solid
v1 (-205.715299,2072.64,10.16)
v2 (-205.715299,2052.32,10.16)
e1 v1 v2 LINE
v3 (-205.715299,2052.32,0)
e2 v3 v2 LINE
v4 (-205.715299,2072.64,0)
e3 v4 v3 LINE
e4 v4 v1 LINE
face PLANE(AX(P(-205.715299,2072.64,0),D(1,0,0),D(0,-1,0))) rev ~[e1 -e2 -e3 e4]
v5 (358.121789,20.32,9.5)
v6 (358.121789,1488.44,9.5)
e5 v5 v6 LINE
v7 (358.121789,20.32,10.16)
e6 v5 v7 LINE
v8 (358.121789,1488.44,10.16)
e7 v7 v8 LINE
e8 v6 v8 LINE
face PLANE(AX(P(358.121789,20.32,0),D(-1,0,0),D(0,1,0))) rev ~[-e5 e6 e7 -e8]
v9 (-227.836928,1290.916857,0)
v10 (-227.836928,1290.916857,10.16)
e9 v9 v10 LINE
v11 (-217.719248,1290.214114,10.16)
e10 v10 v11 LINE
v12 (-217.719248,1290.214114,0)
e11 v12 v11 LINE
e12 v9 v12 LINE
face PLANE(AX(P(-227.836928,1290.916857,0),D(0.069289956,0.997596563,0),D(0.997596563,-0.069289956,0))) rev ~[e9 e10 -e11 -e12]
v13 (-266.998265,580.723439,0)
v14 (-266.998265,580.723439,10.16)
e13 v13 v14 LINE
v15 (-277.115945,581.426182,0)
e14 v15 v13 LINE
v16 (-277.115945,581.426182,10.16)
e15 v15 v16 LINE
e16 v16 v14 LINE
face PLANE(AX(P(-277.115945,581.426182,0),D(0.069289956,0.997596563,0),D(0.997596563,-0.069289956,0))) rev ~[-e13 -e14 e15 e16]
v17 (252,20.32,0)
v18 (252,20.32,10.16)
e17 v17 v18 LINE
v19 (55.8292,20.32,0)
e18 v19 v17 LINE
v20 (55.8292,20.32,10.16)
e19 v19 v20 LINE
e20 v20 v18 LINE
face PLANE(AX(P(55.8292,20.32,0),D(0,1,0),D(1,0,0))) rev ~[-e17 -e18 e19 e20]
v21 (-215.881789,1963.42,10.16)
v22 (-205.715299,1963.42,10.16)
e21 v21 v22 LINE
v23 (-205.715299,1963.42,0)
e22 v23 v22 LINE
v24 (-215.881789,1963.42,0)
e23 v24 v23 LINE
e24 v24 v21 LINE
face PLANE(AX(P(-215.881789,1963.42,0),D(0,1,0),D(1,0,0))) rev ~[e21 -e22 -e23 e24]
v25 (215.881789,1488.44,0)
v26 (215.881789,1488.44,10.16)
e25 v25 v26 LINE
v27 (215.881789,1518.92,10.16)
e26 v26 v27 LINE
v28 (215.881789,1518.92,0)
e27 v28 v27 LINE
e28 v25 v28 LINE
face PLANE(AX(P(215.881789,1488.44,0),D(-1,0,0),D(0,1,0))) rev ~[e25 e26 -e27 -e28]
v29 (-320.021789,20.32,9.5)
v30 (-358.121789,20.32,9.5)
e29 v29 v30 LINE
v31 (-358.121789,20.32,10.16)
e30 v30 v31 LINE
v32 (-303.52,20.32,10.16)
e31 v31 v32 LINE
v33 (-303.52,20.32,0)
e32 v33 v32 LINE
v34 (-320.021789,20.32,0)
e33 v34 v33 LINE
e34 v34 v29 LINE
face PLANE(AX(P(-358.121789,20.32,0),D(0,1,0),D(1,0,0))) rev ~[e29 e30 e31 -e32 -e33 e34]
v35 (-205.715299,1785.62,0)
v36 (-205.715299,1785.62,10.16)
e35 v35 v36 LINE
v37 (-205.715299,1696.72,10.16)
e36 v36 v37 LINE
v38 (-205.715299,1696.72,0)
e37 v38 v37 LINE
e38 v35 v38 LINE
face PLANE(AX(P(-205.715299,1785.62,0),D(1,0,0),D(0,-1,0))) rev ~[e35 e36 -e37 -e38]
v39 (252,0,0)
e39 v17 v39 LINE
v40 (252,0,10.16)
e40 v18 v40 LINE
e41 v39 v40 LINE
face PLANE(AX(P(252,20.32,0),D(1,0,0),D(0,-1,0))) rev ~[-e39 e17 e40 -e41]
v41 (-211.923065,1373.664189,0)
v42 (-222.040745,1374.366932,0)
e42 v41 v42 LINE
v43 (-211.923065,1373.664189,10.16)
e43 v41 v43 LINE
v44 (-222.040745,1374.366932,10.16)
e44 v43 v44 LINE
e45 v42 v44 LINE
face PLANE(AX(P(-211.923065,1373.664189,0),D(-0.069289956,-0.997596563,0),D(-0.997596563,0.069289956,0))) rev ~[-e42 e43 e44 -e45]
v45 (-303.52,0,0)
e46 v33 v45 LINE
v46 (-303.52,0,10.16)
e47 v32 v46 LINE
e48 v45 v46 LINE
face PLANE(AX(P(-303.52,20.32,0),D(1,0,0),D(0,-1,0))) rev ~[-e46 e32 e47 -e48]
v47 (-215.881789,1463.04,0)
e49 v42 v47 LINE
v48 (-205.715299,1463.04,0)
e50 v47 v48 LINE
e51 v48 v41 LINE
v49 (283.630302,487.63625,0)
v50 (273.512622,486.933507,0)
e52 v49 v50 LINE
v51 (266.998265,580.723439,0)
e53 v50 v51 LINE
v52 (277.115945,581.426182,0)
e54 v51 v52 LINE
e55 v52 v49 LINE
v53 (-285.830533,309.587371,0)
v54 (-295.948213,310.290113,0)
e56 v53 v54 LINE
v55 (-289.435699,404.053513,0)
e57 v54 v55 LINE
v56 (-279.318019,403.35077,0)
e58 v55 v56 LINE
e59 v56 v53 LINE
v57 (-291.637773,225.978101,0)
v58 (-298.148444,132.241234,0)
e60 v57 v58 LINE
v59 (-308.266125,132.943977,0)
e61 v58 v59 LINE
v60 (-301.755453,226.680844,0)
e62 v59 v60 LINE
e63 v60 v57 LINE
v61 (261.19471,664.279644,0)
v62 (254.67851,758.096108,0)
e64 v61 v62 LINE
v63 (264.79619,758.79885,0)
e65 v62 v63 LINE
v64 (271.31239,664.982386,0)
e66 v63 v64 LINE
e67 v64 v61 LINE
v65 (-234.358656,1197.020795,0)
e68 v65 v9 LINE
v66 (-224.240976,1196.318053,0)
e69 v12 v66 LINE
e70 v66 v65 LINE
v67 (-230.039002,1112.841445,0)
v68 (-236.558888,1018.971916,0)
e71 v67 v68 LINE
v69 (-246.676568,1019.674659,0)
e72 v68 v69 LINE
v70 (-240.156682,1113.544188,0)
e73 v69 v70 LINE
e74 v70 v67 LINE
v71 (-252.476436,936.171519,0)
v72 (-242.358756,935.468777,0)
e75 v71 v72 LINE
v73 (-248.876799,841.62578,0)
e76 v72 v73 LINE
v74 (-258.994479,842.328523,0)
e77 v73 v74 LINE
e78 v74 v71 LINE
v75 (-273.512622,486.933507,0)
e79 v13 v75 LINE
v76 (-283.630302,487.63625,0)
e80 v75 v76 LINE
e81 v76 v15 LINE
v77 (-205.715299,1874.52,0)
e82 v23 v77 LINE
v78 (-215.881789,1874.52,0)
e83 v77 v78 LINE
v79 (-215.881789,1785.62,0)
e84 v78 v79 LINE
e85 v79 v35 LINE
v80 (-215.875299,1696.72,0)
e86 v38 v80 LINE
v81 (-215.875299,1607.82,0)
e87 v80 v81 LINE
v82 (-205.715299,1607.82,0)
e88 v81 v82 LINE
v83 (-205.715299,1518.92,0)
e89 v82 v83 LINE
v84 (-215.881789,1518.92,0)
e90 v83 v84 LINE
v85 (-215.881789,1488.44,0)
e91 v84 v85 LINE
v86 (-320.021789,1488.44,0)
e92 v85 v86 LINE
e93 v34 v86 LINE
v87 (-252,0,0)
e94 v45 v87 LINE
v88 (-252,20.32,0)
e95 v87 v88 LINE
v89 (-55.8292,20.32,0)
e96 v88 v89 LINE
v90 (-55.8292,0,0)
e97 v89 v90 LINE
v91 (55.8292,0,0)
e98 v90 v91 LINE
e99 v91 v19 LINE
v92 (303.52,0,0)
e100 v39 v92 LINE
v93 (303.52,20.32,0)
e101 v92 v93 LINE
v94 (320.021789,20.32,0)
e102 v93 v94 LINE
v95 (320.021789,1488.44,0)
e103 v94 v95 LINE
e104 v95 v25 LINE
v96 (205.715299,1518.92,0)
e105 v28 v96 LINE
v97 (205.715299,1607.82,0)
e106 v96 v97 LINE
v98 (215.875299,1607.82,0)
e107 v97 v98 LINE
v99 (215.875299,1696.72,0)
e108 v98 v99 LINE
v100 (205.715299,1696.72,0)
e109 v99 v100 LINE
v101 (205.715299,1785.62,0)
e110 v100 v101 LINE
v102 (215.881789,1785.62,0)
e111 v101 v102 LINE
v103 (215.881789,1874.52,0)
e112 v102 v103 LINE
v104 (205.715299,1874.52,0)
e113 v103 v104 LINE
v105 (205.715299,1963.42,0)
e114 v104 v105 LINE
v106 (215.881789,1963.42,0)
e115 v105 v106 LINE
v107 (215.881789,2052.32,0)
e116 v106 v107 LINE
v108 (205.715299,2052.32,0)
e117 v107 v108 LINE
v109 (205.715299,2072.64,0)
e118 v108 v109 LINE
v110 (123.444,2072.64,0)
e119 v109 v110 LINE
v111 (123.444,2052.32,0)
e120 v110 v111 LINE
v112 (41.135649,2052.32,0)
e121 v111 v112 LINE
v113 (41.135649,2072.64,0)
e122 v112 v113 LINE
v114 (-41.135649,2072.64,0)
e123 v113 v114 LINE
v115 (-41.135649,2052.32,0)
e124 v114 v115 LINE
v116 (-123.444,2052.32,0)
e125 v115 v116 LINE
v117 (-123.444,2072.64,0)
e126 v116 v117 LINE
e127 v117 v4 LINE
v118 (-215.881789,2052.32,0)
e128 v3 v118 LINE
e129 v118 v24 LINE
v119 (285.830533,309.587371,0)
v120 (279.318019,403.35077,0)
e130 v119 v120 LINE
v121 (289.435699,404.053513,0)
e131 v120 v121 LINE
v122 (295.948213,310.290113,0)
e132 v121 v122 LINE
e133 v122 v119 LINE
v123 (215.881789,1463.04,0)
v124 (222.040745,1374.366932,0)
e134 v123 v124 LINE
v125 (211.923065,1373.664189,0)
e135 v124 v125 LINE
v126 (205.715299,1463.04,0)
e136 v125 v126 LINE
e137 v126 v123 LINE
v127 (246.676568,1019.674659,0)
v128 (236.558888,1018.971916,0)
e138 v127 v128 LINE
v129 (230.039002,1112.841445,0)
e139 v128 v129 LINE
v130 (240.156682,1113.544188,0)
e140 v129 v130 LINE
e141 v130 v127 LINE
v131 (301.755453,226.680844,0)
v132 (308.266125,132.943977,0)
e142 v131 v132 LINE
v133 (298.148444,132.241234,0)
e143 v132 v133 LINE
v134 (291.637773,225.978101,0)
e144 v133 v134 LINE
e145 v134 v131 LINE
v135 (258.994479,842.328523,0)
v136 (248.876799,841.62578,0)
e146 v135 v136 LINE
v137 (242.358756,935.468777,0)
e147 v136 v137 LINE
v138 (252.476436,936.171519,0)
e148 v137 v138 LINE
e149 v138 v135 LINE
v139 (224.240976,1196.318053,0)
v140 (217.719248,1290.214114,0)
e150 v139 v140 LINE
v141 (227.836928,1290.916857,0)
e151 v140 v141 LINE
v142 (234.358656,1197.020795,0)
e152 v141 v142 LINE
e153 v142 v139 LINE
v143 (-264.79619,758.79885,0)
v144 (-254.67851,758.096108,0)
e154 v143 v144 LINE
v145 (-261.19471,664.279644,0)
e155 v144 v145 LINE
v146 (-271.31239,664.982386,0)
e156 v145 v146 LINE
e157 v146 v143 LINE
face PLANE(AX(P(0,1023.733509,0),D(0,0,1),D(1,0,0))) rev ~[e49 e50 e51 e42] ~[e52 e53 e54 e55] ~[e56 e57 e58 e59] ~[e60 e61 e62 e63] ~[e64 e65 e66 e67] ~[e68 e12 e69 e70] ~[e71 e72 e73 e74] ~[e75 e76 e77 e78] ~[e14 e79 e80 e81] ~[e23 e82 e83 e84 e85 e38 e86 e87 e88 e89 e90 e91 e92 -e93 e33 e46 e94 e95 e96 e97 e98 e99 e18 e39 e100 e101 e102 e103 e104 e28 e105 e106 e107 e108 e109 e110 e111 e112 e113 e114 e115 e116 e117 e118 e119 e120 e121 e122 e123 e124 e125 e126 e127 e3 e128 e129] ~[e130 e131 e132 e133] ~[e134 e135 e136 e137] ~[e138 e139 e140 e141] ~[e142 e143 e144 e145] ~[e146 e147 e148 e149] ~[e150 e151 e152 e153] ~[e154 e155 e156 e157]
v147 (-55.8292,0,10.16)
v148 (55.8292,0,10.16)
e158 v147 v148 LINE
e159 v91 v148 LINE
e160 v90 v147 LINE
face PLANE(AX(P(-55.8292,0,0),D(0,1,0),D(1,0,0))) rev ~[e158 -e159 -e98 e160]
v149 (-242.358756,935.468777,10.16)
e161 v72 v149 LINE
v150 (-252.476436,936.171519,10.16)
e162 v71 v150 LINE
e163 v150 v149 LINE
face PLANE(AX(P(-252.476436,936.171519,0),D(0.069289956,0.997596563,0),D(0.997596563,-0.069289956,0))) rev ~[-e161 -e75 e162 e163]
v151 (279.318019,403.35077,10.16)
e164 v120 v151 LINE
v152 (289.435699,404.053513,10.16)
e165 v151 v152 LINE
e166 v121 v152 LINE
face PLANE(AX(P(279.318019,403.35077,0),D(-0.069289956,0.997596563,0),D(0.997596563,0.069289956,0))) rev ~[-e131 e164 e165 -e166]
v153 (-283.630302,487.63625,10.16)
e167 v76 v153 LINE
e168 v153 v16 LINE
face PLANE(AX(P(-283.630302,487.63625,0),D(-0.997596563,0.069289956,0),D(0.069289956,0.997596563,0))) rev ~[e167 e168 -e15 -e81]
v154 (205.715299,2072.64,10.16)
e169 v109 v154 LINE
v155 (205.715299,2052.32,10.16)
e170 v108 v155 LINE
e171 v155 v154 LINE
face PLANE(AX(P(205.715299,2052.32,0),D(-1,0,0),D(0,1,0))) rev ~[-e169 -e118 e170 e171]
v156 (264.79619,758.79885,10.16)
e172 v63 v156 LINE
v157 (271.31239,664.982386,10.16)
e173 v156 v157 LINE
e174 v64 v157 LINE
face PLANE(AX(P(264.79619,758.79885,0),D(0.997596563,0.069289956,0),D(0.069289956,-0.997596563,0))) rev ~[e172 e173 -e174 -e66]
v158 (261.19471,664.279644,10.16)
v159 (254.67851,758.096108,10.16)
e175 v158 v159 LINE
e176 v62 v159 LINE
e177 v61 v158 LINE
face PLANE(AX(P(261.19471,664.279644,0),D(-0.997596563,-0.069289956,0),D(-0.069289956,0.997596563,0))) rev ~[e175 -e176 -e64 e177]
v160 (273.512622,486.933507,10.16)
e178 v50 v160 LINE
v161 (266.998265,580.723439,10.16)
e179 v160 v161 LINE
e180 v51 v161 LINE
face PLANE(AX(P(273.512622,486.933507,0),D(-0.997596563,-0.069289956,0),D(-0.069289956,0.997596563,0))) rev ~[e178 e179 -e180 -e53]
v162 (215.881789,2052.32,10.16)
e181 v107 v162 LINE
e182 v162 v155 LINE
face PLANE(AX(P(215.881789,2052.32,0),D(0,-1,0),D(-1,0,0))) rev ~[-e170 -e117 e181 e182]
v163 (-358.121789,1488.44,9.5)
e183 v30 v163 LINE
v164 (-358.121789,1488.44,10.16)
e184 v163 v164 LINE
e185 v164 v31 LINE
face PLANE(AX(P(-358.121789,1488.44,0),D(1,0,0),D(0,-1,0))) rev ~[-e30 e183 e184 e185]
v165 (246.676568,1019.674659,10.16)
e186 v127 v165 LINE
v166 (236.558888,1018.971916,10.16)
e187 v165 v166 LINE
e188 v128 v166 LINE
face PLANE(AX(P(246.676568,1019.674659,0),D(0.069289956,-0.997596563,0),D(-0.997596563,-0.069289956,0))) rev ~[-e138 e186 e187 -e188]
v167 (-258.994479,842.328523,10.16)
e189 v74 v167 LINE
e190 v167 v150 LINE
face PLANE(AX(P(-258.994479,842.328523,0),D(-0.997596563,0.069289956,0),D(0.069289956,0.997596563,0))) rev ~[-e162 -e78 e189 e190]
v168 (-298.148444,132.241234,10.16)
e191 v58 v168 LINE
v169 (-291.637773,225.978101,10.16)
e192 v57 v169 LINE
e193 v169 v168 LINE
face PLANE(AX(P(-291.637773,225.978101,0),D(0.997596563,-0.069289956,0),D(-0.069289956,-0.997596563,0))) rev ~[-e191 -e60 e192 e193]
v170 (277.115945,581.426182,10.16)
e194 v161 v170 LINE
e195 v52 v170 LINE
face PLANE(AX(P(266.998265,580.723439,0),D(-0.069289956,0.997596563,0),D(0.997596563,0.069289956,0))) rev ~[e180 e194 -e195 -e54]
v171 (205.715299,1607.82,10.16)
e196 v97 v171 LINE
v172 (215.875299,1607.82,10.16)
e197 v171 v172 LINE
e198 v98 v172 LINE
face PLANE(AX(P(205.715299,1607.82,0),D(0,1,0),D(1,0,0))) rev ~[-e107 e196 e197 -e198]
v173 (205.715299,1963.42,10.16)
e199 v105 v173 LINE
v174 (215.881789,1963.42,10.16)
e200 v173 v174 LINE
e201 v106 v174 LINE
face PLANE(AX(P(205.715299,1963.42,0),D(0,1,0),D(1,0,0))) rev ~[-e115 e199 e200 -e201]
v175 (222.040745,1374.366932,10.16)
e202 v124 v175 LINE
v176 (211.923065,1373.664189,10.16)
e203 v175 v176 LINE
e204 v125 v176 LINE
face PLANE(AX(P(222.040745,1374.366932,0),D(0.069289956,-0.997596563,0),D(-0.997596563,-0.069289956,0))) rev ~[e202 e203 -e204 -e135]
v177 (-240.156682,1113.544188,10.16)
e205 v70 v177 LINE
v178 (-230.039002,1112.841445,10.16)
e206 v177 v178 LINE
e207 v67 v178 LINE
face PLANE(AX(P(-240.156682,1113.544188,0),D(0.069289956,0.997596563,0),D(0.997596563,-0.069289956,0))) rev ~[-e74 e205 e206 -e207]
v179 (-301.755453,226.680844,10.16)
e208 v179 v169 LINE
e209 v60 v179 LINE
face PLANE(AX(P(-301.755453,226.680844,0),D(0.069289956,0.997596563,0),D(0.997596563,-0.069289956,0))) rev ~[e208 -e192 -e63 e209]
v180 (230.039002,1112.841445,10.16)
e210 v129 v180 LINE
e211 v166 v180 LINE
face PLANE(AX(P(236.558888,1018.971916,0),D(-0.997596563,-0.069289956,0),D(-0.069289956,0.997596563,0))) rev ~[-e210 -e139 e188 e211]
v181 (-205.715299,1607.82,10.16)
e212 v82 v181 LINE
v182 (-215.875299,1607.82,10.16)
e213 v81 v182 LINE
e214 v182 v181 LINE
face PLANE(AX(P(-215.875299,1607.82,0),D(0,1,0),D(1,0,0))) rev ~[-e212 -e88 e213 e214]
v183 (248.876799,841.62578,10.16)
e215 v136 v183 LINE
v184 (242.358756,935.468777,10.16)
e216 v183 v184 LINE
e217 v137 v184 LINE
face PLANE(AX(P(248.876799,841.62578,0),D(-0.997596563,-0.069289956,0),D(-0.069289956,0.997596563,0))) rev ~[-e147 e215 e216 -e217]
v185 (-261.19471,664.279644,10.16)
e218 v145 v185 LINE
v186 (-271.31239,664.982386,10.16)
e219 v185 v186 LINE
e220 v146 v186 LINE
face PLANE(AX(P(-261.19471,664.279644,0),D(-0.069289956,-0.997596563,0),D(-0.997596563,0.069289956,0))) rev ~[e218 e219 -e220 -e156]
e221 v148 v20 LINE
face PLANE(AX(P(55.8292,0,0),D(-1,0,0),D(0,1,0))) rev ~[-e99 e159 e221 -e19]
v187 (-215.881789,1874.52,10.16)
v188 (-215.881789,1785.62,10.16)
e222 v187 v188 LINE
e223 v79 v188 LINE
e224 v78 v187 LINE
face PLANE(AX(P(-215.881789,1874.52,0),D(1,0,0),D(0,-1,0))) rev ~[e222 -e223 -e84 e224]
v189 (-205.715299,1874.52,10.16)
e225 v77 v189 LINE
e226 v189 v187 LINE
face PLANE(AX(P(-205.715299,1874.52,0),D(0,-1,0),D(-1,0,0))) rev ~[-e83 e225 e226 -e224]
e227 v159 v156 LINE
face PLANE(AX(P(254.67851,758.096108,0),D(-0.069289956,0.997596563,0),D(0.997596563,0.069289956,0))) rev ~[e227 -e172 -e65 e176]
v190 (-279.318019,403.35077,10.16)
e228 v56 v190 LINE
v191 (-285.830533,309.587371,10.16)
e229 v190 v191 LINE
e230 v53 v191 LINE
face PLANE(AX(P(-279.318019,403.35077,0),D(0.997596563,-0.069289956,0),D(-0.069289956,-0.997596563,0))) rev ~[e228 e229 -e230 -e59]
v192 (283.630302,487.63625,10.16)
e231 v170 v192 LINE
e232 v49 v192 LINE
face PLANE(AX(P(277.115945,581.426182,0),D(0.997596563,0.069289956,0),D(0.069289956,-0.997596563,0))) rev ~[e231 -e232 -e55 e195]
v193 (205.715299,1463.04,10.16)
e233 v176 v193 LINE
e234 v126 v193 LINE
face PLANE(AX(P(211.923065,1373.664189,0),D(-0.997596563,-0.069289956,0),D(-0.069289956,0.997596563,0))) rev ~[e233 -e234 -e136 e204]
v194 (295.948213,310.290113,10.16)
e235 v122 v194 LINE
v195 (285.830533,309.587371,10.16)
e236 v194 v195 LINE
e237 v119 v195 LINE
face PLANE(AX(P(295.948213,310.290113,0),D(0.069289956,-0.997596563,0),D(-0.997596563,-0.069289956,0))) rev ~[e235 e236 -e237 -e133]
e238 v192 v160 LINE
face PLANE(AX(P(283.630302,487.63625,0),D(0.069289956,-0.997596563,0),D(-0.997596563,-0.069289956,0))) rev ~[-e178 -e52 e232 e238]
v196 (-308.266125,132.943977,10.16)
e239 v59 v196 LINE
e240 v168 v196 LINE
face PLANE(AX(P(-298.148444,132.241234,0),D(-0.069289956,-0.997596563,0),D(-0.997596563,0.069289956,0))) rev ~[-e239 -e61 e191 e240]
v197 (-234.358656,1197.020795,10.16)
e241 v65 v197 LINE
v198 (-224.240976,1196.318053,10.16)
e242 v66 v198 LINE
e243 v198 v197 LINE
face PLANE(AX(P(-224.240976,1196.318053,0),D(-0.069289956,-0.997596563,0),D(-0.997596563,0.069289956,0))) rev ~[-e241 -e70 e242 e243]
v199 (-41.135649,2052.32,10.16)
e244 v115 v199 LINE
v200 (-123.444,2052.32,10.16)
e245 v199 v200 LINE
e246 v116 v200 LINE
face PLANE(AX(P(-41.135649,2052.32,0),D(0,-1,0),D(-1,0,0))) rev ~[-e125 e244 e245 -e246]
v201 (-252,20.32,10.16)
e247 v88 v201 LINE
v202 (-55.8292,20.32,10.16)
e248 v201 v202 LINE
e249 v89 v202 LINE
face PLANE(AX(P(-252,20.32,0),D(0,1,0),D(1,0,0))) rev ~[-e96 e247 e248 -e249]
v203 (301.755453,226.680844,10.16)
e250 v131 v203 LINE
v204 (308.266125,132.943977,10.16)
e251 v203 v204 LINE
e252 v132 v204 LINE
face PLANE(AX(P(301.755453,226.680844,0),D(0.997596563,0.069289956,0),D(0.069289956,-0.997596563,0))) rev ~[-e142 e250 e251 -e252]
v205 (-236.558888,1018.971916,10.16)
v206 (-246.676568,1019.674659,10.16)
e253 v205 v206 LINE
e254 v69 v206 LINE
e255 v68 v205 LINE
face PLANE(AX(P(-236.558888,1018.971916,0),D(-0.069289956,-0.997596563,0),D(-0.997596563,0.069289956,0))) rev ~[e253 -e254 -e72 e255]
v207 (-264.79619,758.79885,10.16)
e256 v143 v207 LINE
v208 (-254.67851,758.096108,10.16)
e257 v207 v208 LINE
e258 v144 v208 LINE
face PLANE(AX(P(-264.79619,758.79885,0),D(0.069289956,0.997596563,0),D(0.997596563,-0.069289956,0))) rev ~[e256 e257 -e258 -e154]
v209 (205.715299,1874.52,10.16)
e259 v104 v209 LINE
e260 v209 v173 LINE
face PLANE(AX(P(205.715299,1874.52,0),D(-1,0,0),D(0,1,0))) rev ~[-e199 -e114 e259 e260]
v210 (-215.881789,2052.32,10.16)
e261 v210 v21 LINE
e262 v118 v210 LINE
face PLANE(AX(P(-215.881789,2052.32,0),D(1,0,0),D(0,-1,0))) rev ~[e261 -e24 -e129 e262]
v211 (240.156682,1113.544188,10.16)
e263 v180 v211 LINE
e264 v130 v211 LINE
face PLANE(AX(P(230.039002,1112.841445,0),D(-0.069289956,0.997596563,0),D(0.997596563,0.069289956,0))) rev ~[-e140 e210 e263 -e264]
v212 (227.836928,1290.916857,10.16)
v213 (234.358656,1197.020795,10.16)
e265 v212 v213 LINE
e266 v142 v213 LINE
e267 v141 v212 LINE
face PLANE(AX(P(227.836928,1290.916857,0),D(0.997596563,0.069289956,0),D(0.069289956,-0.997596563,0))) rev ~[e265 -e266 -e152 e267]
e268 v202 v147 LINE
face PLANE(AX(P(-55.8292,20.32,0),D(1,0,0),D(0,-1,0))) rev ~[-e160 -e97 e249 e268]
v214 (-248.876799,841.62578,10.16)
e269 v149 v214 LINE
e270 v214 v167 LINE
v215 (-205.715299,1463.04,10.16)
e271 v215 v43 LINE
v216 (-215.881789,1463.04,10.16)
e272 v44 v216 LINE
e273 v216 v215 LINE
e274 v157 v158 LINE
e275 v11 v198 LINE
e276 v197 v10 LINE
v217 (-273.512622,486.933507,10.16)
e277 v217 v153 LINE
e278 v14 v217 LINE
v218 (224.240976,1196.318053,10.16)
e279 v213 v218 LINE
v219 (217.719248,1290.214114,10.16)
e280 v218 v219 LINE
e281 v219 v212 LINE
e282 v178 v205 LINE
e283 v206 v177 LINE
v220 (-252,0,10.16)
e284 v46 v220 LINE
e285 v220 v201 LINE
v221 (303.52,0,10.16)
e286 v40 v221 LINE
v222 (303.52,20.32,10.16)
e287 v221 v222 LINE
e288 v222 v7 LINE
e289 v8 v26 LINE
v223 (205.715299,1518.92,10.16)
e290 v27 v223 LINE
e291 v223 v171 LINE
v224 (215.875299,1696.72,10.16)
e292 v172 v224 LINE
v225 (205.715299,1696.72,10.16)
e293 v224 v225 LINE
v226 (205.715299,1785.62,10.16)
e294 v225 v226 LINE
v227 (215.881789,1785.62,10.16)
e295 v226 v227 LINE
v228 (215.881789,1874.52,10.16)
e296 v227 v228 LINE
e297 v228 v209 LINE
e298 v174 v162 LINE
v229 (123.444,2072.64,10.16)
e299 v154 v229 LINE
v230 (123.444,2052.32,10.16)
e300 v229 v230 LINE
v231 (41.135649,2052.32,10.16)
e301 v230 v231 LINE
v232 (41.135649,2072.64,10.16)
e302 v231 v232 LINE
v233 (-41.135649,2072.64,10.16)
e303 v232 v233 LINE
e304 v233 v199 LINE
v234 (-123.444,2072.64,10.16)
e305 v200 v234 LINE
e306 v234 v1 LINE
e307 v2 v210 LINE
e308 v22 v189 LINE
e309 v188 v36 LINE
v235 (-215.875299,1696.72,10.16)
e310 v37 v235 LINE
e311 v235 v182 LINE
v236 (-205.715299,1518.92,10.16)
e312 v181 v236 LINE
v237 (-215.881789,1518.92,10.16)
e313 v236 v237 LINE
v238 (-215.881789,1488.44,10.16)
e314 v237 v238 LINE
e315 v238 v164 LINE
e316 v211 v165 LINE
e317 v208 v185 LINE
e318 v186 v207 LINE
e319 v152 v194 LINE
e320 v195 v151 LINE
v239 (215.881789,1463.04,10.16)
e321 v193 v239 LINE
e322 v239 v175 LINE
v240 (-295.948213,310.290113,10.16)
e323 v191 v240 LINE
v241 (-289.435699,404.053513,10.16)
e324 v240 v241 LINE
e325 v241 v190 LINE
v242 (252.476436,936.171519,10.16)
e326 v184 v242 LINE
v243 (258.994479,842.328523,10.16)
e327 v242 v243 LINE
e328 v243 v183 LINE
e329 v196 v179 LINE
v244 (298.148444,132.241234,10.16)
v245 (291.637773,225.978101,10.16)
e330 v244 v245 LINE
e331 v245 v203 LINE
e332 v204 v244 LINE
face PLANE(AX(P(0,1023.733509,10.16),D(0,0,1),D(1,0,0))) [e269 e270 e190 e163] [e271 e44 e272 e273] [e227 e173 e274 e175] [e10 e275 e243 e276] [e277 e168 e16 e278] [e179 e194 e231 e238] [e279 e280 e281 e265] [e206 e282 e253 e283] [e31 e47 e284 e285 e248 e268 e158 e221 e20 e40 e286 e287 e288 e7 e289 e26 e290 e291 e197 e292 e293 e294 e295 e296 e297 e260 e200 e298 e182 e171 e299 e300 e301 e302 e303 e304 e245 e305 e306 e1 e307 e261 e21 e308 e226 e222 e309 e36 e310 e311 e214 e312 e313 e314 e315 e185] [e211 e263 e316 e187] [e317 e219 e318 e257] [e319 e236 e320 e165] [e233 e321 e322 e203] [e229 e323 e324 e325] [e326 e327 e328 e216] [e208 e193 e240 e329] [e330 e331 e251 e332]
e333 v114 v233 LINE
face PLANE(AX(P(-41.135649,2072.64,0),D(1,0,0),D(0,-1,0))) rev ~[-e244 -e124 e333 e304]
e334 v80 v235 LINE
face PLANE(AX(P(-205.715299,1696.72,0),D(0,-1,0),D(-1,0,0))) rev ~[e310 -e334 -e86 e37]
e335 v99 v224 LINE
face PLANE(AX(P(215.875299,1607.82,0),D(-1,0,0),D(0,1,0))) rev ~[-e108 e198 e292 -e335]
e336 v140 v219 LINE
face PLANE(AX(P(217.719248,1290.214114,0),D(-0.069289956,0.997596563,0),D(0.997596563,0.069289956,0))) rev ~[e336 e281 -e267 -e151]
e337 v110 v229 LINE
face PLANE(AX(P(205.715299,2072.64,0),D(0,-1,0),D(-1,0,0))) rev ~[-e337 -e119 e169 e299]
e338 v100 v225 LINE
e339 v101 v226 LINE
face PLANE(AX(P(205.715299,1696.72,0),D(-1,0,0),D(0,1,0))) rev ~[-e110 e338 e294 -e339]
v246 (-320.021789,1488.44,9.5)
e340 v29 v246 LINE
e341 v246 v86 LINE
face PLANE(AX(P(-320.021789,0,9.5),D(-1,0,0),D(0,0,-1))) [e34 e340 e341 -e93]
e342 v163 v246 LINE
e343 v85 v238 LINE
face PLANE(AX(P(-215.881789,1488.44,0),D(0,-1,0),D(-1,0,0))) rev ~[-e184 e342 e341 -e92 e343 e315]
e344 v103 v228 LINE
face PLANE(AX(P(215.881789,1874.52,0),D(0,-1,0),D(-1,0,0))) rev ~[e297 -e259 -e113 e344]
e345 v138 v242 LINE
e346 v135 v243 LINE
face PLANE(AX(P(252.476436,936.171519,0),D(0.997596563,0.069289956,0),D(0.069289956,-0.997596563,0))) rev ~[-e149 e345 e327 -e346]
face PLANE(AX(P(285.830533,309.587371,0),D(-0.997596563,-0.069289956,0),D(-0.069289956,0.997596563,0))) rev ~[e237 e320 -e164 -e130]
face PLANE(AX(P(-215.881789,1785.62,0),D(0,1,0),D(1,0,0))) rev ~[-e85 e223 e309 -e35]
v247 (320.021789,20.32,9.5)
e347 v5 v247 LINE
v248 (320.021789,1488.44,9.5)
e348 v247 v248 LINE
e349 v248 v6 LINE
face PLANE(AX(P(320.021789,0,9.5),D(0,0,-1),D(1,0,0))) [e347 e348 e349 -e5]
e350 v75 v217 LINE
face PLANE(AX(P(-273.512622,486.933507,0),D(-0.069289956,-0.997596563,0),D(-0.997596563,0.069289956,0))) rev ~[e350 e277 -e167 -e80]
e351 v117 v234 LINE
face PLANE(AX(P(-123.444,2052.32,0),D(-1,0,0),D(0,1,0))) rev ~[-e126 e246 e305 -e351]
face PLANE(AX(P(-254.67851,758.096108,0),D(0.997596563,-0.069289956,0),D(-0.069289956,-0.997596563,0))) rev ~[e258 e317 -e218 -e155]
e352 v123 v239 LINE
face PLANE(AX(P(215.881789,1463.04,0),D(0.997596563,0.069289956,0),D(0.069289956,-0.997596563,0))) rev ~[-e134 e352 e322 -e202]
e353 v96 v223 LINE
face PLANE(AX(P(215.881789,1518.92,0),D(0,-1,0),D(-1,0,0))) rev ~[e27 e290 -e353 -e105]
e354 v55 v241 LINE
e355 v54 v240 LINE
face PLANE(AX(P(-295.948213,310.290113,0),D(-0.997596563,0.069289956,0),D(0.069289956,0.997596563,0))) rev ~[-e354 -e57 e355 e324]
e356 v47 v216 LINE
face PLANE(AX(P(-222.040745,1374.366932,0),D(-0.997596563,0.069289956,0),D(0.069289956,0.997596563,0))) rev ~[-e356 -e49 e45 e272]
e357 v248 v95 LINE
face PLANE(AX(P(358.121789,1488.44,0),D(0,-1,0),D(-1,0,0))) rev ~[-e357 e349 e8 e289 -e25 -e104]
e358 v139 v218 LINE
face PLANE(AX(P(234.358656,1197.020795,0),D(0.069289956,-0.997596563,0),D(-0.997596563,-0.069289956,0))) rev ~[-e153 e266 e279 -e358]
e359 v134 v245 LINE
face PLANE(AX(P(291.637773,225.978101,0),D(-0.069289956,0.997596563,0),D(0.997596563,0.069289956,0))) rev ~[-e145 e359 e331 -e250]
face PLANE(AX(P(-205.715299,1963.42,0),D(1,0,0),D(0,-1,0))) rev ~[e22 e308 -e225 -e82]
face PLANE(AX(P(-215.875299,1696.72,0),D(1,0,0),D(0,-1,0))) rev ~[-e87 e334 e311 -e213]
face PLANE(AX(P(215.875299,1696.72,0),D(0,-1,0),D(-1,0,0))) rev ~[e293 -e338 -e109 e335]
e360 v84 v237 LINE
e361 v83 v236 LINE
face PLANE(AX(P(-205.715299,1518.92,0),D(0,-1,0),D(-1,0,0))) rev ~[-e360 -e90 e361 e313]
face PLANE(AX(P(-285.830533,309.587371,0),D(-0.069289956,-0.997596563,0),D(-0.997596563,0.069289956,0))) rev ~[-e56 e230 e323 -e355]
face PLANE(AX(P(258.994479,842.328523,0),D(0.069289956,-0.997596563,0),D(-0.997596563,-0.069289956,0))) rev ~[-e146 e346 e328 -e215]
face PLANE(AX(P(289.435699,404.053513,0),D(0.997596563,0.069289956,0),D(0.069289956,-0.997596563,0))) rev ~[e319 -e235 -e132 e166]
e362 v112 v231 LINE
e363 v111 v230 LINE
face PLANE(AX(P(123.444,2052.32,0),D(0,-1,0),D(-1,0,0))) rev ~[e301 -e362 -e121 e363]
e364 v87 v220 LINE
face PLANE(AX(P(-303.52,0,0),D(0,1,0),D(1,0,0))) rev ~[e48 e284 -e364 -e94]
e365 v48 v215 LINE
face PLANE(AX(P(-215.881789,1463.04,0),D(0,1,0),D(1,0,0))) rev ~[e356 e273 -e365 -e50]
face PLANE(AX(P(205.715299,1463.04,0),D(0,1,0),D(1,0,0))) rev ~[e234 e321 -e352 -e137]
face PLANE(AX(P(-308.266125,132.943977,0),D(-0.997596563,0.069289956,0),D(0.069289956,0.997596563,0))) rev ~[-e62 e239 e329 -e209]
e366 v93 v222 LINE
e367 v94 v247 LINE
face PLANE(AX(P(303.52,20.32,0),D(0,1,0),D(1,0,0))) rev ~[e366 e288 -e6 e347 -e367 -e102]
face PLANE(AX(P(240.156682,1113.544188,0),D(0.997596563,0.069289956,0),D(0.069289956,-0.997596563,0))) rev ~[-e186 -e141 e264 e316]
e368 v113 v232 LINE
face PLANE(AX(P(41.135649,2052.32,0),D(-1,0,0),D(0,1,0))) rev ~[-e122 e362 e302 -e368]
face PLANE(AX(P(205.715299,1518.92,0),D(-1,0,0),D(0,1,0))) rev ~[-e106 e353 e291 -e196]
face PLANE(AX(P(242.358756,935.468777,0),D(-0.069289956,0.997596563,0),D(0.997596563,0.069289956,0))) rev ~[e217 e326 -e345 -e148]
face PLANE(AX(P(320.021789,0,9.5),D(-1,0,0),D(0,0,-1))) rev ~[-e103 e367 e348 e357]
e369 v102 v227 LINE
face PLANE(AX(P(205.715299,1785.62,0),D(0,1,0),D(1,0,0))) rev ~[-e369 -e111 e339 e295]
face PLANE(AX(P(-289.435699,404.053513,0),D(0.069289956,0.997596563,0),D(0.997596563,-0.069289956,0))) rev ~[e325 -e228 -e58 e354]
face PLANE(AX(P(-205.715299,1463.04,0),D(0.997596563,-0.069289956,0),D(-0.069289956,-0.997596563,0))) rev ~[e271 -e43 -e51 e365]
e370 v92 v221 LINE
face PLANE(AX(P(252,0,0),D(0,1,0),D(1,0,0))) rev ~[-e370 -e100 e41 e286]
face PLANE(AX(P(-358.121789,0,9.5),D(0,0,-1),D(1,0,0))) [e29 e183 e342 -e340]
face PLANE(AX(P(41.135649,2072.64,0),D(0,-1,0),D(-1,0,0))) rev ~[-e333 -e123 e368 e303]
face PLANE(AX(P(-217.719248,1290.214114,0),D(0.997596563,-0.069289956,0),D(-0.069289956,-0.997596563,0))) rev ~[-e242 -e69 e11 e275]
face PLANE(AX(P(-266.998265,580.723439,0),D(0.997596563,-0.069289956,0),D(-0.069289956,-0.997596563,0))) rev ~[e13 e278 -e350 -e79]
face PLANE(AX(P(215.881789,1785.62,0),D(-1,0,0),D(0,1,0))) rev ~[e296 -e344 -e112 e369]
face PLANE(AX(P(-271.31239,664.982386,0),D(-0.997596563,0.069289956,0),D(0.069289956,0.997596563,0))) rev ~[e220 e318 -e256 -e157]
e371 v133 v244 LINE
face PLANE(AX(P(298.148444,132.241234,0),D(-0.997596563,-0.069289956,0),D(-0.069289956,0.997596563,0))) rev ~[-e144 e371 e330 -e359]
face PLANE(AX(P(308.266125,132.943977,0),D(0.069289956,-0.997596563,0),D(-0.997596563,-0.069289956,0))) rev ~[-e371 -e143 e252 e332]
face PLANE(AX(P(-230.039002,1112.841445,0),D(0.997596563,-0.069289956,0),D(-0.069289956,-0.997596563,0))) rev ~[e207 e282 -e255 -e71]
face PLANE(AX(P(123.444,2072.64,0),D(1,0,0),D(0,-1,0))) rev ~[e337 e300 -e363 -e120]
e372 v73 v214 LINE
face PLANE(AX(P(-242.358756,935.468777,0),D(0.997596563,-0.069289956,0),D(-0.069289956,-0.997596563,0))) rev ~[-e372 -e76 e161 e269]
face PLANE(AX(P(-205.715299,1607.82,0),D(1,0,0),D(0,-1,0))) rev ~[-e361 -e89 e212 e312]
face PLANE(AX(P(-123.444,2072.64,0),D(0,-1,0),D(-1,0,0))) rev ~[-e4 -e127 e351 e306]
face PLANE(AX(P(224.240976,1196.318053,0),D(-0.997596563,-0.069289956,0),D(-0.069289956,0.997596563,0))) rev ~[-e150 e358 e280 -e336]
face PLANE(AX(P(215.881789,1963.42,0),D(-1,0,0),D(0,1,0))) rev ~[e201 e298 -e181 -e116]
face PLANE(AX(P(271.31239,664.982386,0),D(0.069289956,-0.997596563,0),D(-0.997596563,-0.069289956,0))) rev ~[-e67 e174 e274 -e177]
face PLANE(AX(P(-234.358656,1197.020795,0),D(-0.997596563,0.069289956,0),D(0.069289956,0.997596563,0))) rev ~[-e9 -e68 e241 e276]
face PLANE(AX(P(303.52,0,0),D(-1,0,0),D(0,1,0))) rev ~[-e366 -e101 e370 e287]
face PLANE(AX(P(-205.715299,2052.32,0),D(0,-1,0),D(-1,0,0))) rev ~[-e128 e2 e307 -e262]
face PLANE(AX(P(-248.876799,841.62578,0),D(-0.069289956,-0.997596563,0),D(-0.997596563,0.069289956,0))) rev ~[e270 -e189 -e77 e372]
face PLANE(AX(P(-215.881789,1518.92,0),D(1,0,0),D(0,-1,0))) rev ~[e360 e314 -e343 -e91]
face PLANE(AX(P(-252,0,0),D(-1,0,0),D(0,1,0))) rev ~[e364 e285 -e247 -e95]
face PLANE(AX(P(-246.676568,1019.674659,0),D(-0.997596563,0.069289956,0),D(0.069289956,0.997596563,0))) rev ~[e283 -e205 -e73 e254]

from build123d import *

# Parameters (mm, degrees)
BOSS_EXTRUDE1_DEPTH = 10.16
SKETCH2_W           = 38.1
SKETCH2_H           = 9.5
CUT_EXTRUDE1_DEPTH  = 2540


with BuildPart() as part:
    # Sketch1 → Boss-Extrude1 (new body)
    with BuildSketch(Plane.XY):
        Polygon((-123.444, 2072.64), (-205.715298803, 2072.64), (-205.715298803, 2052.32), (-215.881789204, 2052.32), (-215.881789204, 1963.42), (-205.715298803, 1963.42), (-205.715298803, 1874.52), (-215.881789204, 1874.52), (-215.881789204, 1785.62), (-205.715298803, 1785.62), (-205.715298803, 1696.72), (-215.875298803, 1696.72), (-215.875298803, 1607.82), (-205.715298803, 1607.82), (-205.715298803, 1518.92), (-215.881789204, 1518.92), (-215.881789204, 1488.440000035), (-358.121789204, 1488.440000035), (-358.121789204, 20.32), (-303.52, 20.32), (-303.52, 0), (-252, 0), (-252, 20.32), (-55.8292, 20.32), (-55.8292, 0), (55.8292, 0), (55.8292, 20.32), (252, 20.32), (252, 0), (303.52, 0), (303.52, 20.32), (358.121789204, 20.32), (358.121789204, 1488.440000035), (215.881789204, 1488.440000035), (215.881789204, 1518.92), (205.715298803, 1518.92), (205.715298803, 1607.82), (215.875298803, 1607.82), (215.875298803, 1696.72), (205.715298803, 1696.72), (205.715298803, 1785.62), (215.881789204, 1785.62), (215.881789204, 1874.52), (205.715298803, 1874.52), (205.715298803, 1963.42), (215.881789204, 1963.42), (215.881789204, 2052.32), (205.715298803, 2052.32), (205.715298803, 2072.64), (123.444, 2072.64), (123.444, 2052.32), (41.135649402, 2052.32), (41.135649402, 2072.64), (-41.135649402, 2072.64), (-41.135649402, 2052.32), (-123.444, 2052.32), align=None)
        Polygon((215.881789204, 1463.040000035), (222.040744894, 1374.366931824), (211.92306481, 1373.664189215), (205.715298803, 1463.040000035), align=None, mode=Mode.SUBTRACT)
        Polygon((-205.715298803, 1463.040000035), (-211.92306481, 1373.664189215), (-222.040744894, 1374.366931824), (-215.881789204, 1463.040000035), align=None, mode=Mode.SUBTRACT)
        Polygon((227.836927701, 1290.916856945), (234.358656272, 1197.020795404), (224.240976188, 1196.318052795), (217.719247617, 1290.214114336), align=None, mode=Mode.SUBTRACT)
        Polygon((-308.266124544, 132.94397688), (-301.755453134, 226.680843836), (-291.63777305, 225.978101227), (-298.14844446, 132.241234271), align=None, mode=Mode.SUBTRACT)
        Polygon((-289.435698895, 404.053512688), (-279.318018811, 403.350770078), (-285.830533081, 309.587370692), (-295.948213166, 310.290113301), align=None, mode=Mode.SUBTRACT)
        Polygon((-283.630301787, 487.636249721), (-277.115944656, 581.426181539), (-266.998264572, 580.72343893), (-273.512621703, 486.933507112), align=None, mode=Mode.SUBTRACT)
        Polygon((-264.796190418, 758.798850391), (-254.678510334, 758.096107781), (-261.194710324, 664.279643533), (-271.312390408, 664.982386142), align=None, mode=Mode.SUBTRACT)
        Polygon((-252.476436179, 936.171519242), (-242.358756095, 935.468776633), (-248.876798945, 841.625779953), (-258.99447903, 842.328522563), align=None, mode=Mode.SUBTRACT)
        Polygon((301.755453134, 226.680843836), (308.266124544, 132.94397688), (298.14844446, 132.241234271), (291.63777305, 225.978101227), align=None, mode=Mode.SUBTRACT)
        Polygon((279.318018811, 403.350770078), (289.435698895, 404.053512688), (295.948213166, 310.290113301), (285.830533081, 309.587370692), align=None, mode=Mode.SUBTRACT)
        Polygon((254.678510334, 758.096107781), (264.796190418, 758.798850391), (271.312390408, 664.982386142), (261.194710324, 664.279643533), align=None, mode=Mode.SUBTRACT)
        Polygon((277.115944656, 581.426181539), (283.630301787, 487.636249721), (273.512621703, 486.933507112), (266.998264572, 580.72343893), align=None, mode=Mode.SUBTRACT)
        Polygon((242.358756095, 935.468776633), (252.476436179, 936.171519242), (258.99447903, 842.328522563), (248.876798945, 841.625779953), align=None, mode=Mode.SUBTRACT)
        Polygon((-240.15668194, 1113.544188093), (-230.039001856, 1112.841445484), (-236.558887567, 1018.971916374), (-246.676567651, 1019.674658983), align=None, mode=Mode.SUBTRACT)
        Polygon((-227.836927701, 1290.916856945), (-217.719247617, 1290.214114336), (-224.240976188, 1196.318052795), (-234.358656272, 1197.020795404), align=None, mode=Mode.SUBTRACT)
        Polygon((230.039001856, 1112.841445484), (240.15668194, 1113.544188093), (246.676567651, 1019.674658983), (236.558887567, 1018.971916374), align=None, mode=Mode.SUBTRACT)
    extrude(amount=BOSS_EXTRUDE1_DEPTH)

    # Sketch2 → Cut-Extrude1 (cut)
    with BuildSketch(Plane(origin=(0, 0, 0), x_dir=(1, 0, 0), z_dir=(0, 1, 0))):
        with Locations((339.071789204, -4.75)):
            Rectangle(SKETCH2_W, SKETCH2_H)
        with Locations((-339.071789204, -4.75)):
            Rectangle(SKETCH2_W, SKETCH2_H)
    extrude(amount=CUT_EXTRUDE1_DEPTH, mode=Mode.SUBTRACT)


solid = part.part
